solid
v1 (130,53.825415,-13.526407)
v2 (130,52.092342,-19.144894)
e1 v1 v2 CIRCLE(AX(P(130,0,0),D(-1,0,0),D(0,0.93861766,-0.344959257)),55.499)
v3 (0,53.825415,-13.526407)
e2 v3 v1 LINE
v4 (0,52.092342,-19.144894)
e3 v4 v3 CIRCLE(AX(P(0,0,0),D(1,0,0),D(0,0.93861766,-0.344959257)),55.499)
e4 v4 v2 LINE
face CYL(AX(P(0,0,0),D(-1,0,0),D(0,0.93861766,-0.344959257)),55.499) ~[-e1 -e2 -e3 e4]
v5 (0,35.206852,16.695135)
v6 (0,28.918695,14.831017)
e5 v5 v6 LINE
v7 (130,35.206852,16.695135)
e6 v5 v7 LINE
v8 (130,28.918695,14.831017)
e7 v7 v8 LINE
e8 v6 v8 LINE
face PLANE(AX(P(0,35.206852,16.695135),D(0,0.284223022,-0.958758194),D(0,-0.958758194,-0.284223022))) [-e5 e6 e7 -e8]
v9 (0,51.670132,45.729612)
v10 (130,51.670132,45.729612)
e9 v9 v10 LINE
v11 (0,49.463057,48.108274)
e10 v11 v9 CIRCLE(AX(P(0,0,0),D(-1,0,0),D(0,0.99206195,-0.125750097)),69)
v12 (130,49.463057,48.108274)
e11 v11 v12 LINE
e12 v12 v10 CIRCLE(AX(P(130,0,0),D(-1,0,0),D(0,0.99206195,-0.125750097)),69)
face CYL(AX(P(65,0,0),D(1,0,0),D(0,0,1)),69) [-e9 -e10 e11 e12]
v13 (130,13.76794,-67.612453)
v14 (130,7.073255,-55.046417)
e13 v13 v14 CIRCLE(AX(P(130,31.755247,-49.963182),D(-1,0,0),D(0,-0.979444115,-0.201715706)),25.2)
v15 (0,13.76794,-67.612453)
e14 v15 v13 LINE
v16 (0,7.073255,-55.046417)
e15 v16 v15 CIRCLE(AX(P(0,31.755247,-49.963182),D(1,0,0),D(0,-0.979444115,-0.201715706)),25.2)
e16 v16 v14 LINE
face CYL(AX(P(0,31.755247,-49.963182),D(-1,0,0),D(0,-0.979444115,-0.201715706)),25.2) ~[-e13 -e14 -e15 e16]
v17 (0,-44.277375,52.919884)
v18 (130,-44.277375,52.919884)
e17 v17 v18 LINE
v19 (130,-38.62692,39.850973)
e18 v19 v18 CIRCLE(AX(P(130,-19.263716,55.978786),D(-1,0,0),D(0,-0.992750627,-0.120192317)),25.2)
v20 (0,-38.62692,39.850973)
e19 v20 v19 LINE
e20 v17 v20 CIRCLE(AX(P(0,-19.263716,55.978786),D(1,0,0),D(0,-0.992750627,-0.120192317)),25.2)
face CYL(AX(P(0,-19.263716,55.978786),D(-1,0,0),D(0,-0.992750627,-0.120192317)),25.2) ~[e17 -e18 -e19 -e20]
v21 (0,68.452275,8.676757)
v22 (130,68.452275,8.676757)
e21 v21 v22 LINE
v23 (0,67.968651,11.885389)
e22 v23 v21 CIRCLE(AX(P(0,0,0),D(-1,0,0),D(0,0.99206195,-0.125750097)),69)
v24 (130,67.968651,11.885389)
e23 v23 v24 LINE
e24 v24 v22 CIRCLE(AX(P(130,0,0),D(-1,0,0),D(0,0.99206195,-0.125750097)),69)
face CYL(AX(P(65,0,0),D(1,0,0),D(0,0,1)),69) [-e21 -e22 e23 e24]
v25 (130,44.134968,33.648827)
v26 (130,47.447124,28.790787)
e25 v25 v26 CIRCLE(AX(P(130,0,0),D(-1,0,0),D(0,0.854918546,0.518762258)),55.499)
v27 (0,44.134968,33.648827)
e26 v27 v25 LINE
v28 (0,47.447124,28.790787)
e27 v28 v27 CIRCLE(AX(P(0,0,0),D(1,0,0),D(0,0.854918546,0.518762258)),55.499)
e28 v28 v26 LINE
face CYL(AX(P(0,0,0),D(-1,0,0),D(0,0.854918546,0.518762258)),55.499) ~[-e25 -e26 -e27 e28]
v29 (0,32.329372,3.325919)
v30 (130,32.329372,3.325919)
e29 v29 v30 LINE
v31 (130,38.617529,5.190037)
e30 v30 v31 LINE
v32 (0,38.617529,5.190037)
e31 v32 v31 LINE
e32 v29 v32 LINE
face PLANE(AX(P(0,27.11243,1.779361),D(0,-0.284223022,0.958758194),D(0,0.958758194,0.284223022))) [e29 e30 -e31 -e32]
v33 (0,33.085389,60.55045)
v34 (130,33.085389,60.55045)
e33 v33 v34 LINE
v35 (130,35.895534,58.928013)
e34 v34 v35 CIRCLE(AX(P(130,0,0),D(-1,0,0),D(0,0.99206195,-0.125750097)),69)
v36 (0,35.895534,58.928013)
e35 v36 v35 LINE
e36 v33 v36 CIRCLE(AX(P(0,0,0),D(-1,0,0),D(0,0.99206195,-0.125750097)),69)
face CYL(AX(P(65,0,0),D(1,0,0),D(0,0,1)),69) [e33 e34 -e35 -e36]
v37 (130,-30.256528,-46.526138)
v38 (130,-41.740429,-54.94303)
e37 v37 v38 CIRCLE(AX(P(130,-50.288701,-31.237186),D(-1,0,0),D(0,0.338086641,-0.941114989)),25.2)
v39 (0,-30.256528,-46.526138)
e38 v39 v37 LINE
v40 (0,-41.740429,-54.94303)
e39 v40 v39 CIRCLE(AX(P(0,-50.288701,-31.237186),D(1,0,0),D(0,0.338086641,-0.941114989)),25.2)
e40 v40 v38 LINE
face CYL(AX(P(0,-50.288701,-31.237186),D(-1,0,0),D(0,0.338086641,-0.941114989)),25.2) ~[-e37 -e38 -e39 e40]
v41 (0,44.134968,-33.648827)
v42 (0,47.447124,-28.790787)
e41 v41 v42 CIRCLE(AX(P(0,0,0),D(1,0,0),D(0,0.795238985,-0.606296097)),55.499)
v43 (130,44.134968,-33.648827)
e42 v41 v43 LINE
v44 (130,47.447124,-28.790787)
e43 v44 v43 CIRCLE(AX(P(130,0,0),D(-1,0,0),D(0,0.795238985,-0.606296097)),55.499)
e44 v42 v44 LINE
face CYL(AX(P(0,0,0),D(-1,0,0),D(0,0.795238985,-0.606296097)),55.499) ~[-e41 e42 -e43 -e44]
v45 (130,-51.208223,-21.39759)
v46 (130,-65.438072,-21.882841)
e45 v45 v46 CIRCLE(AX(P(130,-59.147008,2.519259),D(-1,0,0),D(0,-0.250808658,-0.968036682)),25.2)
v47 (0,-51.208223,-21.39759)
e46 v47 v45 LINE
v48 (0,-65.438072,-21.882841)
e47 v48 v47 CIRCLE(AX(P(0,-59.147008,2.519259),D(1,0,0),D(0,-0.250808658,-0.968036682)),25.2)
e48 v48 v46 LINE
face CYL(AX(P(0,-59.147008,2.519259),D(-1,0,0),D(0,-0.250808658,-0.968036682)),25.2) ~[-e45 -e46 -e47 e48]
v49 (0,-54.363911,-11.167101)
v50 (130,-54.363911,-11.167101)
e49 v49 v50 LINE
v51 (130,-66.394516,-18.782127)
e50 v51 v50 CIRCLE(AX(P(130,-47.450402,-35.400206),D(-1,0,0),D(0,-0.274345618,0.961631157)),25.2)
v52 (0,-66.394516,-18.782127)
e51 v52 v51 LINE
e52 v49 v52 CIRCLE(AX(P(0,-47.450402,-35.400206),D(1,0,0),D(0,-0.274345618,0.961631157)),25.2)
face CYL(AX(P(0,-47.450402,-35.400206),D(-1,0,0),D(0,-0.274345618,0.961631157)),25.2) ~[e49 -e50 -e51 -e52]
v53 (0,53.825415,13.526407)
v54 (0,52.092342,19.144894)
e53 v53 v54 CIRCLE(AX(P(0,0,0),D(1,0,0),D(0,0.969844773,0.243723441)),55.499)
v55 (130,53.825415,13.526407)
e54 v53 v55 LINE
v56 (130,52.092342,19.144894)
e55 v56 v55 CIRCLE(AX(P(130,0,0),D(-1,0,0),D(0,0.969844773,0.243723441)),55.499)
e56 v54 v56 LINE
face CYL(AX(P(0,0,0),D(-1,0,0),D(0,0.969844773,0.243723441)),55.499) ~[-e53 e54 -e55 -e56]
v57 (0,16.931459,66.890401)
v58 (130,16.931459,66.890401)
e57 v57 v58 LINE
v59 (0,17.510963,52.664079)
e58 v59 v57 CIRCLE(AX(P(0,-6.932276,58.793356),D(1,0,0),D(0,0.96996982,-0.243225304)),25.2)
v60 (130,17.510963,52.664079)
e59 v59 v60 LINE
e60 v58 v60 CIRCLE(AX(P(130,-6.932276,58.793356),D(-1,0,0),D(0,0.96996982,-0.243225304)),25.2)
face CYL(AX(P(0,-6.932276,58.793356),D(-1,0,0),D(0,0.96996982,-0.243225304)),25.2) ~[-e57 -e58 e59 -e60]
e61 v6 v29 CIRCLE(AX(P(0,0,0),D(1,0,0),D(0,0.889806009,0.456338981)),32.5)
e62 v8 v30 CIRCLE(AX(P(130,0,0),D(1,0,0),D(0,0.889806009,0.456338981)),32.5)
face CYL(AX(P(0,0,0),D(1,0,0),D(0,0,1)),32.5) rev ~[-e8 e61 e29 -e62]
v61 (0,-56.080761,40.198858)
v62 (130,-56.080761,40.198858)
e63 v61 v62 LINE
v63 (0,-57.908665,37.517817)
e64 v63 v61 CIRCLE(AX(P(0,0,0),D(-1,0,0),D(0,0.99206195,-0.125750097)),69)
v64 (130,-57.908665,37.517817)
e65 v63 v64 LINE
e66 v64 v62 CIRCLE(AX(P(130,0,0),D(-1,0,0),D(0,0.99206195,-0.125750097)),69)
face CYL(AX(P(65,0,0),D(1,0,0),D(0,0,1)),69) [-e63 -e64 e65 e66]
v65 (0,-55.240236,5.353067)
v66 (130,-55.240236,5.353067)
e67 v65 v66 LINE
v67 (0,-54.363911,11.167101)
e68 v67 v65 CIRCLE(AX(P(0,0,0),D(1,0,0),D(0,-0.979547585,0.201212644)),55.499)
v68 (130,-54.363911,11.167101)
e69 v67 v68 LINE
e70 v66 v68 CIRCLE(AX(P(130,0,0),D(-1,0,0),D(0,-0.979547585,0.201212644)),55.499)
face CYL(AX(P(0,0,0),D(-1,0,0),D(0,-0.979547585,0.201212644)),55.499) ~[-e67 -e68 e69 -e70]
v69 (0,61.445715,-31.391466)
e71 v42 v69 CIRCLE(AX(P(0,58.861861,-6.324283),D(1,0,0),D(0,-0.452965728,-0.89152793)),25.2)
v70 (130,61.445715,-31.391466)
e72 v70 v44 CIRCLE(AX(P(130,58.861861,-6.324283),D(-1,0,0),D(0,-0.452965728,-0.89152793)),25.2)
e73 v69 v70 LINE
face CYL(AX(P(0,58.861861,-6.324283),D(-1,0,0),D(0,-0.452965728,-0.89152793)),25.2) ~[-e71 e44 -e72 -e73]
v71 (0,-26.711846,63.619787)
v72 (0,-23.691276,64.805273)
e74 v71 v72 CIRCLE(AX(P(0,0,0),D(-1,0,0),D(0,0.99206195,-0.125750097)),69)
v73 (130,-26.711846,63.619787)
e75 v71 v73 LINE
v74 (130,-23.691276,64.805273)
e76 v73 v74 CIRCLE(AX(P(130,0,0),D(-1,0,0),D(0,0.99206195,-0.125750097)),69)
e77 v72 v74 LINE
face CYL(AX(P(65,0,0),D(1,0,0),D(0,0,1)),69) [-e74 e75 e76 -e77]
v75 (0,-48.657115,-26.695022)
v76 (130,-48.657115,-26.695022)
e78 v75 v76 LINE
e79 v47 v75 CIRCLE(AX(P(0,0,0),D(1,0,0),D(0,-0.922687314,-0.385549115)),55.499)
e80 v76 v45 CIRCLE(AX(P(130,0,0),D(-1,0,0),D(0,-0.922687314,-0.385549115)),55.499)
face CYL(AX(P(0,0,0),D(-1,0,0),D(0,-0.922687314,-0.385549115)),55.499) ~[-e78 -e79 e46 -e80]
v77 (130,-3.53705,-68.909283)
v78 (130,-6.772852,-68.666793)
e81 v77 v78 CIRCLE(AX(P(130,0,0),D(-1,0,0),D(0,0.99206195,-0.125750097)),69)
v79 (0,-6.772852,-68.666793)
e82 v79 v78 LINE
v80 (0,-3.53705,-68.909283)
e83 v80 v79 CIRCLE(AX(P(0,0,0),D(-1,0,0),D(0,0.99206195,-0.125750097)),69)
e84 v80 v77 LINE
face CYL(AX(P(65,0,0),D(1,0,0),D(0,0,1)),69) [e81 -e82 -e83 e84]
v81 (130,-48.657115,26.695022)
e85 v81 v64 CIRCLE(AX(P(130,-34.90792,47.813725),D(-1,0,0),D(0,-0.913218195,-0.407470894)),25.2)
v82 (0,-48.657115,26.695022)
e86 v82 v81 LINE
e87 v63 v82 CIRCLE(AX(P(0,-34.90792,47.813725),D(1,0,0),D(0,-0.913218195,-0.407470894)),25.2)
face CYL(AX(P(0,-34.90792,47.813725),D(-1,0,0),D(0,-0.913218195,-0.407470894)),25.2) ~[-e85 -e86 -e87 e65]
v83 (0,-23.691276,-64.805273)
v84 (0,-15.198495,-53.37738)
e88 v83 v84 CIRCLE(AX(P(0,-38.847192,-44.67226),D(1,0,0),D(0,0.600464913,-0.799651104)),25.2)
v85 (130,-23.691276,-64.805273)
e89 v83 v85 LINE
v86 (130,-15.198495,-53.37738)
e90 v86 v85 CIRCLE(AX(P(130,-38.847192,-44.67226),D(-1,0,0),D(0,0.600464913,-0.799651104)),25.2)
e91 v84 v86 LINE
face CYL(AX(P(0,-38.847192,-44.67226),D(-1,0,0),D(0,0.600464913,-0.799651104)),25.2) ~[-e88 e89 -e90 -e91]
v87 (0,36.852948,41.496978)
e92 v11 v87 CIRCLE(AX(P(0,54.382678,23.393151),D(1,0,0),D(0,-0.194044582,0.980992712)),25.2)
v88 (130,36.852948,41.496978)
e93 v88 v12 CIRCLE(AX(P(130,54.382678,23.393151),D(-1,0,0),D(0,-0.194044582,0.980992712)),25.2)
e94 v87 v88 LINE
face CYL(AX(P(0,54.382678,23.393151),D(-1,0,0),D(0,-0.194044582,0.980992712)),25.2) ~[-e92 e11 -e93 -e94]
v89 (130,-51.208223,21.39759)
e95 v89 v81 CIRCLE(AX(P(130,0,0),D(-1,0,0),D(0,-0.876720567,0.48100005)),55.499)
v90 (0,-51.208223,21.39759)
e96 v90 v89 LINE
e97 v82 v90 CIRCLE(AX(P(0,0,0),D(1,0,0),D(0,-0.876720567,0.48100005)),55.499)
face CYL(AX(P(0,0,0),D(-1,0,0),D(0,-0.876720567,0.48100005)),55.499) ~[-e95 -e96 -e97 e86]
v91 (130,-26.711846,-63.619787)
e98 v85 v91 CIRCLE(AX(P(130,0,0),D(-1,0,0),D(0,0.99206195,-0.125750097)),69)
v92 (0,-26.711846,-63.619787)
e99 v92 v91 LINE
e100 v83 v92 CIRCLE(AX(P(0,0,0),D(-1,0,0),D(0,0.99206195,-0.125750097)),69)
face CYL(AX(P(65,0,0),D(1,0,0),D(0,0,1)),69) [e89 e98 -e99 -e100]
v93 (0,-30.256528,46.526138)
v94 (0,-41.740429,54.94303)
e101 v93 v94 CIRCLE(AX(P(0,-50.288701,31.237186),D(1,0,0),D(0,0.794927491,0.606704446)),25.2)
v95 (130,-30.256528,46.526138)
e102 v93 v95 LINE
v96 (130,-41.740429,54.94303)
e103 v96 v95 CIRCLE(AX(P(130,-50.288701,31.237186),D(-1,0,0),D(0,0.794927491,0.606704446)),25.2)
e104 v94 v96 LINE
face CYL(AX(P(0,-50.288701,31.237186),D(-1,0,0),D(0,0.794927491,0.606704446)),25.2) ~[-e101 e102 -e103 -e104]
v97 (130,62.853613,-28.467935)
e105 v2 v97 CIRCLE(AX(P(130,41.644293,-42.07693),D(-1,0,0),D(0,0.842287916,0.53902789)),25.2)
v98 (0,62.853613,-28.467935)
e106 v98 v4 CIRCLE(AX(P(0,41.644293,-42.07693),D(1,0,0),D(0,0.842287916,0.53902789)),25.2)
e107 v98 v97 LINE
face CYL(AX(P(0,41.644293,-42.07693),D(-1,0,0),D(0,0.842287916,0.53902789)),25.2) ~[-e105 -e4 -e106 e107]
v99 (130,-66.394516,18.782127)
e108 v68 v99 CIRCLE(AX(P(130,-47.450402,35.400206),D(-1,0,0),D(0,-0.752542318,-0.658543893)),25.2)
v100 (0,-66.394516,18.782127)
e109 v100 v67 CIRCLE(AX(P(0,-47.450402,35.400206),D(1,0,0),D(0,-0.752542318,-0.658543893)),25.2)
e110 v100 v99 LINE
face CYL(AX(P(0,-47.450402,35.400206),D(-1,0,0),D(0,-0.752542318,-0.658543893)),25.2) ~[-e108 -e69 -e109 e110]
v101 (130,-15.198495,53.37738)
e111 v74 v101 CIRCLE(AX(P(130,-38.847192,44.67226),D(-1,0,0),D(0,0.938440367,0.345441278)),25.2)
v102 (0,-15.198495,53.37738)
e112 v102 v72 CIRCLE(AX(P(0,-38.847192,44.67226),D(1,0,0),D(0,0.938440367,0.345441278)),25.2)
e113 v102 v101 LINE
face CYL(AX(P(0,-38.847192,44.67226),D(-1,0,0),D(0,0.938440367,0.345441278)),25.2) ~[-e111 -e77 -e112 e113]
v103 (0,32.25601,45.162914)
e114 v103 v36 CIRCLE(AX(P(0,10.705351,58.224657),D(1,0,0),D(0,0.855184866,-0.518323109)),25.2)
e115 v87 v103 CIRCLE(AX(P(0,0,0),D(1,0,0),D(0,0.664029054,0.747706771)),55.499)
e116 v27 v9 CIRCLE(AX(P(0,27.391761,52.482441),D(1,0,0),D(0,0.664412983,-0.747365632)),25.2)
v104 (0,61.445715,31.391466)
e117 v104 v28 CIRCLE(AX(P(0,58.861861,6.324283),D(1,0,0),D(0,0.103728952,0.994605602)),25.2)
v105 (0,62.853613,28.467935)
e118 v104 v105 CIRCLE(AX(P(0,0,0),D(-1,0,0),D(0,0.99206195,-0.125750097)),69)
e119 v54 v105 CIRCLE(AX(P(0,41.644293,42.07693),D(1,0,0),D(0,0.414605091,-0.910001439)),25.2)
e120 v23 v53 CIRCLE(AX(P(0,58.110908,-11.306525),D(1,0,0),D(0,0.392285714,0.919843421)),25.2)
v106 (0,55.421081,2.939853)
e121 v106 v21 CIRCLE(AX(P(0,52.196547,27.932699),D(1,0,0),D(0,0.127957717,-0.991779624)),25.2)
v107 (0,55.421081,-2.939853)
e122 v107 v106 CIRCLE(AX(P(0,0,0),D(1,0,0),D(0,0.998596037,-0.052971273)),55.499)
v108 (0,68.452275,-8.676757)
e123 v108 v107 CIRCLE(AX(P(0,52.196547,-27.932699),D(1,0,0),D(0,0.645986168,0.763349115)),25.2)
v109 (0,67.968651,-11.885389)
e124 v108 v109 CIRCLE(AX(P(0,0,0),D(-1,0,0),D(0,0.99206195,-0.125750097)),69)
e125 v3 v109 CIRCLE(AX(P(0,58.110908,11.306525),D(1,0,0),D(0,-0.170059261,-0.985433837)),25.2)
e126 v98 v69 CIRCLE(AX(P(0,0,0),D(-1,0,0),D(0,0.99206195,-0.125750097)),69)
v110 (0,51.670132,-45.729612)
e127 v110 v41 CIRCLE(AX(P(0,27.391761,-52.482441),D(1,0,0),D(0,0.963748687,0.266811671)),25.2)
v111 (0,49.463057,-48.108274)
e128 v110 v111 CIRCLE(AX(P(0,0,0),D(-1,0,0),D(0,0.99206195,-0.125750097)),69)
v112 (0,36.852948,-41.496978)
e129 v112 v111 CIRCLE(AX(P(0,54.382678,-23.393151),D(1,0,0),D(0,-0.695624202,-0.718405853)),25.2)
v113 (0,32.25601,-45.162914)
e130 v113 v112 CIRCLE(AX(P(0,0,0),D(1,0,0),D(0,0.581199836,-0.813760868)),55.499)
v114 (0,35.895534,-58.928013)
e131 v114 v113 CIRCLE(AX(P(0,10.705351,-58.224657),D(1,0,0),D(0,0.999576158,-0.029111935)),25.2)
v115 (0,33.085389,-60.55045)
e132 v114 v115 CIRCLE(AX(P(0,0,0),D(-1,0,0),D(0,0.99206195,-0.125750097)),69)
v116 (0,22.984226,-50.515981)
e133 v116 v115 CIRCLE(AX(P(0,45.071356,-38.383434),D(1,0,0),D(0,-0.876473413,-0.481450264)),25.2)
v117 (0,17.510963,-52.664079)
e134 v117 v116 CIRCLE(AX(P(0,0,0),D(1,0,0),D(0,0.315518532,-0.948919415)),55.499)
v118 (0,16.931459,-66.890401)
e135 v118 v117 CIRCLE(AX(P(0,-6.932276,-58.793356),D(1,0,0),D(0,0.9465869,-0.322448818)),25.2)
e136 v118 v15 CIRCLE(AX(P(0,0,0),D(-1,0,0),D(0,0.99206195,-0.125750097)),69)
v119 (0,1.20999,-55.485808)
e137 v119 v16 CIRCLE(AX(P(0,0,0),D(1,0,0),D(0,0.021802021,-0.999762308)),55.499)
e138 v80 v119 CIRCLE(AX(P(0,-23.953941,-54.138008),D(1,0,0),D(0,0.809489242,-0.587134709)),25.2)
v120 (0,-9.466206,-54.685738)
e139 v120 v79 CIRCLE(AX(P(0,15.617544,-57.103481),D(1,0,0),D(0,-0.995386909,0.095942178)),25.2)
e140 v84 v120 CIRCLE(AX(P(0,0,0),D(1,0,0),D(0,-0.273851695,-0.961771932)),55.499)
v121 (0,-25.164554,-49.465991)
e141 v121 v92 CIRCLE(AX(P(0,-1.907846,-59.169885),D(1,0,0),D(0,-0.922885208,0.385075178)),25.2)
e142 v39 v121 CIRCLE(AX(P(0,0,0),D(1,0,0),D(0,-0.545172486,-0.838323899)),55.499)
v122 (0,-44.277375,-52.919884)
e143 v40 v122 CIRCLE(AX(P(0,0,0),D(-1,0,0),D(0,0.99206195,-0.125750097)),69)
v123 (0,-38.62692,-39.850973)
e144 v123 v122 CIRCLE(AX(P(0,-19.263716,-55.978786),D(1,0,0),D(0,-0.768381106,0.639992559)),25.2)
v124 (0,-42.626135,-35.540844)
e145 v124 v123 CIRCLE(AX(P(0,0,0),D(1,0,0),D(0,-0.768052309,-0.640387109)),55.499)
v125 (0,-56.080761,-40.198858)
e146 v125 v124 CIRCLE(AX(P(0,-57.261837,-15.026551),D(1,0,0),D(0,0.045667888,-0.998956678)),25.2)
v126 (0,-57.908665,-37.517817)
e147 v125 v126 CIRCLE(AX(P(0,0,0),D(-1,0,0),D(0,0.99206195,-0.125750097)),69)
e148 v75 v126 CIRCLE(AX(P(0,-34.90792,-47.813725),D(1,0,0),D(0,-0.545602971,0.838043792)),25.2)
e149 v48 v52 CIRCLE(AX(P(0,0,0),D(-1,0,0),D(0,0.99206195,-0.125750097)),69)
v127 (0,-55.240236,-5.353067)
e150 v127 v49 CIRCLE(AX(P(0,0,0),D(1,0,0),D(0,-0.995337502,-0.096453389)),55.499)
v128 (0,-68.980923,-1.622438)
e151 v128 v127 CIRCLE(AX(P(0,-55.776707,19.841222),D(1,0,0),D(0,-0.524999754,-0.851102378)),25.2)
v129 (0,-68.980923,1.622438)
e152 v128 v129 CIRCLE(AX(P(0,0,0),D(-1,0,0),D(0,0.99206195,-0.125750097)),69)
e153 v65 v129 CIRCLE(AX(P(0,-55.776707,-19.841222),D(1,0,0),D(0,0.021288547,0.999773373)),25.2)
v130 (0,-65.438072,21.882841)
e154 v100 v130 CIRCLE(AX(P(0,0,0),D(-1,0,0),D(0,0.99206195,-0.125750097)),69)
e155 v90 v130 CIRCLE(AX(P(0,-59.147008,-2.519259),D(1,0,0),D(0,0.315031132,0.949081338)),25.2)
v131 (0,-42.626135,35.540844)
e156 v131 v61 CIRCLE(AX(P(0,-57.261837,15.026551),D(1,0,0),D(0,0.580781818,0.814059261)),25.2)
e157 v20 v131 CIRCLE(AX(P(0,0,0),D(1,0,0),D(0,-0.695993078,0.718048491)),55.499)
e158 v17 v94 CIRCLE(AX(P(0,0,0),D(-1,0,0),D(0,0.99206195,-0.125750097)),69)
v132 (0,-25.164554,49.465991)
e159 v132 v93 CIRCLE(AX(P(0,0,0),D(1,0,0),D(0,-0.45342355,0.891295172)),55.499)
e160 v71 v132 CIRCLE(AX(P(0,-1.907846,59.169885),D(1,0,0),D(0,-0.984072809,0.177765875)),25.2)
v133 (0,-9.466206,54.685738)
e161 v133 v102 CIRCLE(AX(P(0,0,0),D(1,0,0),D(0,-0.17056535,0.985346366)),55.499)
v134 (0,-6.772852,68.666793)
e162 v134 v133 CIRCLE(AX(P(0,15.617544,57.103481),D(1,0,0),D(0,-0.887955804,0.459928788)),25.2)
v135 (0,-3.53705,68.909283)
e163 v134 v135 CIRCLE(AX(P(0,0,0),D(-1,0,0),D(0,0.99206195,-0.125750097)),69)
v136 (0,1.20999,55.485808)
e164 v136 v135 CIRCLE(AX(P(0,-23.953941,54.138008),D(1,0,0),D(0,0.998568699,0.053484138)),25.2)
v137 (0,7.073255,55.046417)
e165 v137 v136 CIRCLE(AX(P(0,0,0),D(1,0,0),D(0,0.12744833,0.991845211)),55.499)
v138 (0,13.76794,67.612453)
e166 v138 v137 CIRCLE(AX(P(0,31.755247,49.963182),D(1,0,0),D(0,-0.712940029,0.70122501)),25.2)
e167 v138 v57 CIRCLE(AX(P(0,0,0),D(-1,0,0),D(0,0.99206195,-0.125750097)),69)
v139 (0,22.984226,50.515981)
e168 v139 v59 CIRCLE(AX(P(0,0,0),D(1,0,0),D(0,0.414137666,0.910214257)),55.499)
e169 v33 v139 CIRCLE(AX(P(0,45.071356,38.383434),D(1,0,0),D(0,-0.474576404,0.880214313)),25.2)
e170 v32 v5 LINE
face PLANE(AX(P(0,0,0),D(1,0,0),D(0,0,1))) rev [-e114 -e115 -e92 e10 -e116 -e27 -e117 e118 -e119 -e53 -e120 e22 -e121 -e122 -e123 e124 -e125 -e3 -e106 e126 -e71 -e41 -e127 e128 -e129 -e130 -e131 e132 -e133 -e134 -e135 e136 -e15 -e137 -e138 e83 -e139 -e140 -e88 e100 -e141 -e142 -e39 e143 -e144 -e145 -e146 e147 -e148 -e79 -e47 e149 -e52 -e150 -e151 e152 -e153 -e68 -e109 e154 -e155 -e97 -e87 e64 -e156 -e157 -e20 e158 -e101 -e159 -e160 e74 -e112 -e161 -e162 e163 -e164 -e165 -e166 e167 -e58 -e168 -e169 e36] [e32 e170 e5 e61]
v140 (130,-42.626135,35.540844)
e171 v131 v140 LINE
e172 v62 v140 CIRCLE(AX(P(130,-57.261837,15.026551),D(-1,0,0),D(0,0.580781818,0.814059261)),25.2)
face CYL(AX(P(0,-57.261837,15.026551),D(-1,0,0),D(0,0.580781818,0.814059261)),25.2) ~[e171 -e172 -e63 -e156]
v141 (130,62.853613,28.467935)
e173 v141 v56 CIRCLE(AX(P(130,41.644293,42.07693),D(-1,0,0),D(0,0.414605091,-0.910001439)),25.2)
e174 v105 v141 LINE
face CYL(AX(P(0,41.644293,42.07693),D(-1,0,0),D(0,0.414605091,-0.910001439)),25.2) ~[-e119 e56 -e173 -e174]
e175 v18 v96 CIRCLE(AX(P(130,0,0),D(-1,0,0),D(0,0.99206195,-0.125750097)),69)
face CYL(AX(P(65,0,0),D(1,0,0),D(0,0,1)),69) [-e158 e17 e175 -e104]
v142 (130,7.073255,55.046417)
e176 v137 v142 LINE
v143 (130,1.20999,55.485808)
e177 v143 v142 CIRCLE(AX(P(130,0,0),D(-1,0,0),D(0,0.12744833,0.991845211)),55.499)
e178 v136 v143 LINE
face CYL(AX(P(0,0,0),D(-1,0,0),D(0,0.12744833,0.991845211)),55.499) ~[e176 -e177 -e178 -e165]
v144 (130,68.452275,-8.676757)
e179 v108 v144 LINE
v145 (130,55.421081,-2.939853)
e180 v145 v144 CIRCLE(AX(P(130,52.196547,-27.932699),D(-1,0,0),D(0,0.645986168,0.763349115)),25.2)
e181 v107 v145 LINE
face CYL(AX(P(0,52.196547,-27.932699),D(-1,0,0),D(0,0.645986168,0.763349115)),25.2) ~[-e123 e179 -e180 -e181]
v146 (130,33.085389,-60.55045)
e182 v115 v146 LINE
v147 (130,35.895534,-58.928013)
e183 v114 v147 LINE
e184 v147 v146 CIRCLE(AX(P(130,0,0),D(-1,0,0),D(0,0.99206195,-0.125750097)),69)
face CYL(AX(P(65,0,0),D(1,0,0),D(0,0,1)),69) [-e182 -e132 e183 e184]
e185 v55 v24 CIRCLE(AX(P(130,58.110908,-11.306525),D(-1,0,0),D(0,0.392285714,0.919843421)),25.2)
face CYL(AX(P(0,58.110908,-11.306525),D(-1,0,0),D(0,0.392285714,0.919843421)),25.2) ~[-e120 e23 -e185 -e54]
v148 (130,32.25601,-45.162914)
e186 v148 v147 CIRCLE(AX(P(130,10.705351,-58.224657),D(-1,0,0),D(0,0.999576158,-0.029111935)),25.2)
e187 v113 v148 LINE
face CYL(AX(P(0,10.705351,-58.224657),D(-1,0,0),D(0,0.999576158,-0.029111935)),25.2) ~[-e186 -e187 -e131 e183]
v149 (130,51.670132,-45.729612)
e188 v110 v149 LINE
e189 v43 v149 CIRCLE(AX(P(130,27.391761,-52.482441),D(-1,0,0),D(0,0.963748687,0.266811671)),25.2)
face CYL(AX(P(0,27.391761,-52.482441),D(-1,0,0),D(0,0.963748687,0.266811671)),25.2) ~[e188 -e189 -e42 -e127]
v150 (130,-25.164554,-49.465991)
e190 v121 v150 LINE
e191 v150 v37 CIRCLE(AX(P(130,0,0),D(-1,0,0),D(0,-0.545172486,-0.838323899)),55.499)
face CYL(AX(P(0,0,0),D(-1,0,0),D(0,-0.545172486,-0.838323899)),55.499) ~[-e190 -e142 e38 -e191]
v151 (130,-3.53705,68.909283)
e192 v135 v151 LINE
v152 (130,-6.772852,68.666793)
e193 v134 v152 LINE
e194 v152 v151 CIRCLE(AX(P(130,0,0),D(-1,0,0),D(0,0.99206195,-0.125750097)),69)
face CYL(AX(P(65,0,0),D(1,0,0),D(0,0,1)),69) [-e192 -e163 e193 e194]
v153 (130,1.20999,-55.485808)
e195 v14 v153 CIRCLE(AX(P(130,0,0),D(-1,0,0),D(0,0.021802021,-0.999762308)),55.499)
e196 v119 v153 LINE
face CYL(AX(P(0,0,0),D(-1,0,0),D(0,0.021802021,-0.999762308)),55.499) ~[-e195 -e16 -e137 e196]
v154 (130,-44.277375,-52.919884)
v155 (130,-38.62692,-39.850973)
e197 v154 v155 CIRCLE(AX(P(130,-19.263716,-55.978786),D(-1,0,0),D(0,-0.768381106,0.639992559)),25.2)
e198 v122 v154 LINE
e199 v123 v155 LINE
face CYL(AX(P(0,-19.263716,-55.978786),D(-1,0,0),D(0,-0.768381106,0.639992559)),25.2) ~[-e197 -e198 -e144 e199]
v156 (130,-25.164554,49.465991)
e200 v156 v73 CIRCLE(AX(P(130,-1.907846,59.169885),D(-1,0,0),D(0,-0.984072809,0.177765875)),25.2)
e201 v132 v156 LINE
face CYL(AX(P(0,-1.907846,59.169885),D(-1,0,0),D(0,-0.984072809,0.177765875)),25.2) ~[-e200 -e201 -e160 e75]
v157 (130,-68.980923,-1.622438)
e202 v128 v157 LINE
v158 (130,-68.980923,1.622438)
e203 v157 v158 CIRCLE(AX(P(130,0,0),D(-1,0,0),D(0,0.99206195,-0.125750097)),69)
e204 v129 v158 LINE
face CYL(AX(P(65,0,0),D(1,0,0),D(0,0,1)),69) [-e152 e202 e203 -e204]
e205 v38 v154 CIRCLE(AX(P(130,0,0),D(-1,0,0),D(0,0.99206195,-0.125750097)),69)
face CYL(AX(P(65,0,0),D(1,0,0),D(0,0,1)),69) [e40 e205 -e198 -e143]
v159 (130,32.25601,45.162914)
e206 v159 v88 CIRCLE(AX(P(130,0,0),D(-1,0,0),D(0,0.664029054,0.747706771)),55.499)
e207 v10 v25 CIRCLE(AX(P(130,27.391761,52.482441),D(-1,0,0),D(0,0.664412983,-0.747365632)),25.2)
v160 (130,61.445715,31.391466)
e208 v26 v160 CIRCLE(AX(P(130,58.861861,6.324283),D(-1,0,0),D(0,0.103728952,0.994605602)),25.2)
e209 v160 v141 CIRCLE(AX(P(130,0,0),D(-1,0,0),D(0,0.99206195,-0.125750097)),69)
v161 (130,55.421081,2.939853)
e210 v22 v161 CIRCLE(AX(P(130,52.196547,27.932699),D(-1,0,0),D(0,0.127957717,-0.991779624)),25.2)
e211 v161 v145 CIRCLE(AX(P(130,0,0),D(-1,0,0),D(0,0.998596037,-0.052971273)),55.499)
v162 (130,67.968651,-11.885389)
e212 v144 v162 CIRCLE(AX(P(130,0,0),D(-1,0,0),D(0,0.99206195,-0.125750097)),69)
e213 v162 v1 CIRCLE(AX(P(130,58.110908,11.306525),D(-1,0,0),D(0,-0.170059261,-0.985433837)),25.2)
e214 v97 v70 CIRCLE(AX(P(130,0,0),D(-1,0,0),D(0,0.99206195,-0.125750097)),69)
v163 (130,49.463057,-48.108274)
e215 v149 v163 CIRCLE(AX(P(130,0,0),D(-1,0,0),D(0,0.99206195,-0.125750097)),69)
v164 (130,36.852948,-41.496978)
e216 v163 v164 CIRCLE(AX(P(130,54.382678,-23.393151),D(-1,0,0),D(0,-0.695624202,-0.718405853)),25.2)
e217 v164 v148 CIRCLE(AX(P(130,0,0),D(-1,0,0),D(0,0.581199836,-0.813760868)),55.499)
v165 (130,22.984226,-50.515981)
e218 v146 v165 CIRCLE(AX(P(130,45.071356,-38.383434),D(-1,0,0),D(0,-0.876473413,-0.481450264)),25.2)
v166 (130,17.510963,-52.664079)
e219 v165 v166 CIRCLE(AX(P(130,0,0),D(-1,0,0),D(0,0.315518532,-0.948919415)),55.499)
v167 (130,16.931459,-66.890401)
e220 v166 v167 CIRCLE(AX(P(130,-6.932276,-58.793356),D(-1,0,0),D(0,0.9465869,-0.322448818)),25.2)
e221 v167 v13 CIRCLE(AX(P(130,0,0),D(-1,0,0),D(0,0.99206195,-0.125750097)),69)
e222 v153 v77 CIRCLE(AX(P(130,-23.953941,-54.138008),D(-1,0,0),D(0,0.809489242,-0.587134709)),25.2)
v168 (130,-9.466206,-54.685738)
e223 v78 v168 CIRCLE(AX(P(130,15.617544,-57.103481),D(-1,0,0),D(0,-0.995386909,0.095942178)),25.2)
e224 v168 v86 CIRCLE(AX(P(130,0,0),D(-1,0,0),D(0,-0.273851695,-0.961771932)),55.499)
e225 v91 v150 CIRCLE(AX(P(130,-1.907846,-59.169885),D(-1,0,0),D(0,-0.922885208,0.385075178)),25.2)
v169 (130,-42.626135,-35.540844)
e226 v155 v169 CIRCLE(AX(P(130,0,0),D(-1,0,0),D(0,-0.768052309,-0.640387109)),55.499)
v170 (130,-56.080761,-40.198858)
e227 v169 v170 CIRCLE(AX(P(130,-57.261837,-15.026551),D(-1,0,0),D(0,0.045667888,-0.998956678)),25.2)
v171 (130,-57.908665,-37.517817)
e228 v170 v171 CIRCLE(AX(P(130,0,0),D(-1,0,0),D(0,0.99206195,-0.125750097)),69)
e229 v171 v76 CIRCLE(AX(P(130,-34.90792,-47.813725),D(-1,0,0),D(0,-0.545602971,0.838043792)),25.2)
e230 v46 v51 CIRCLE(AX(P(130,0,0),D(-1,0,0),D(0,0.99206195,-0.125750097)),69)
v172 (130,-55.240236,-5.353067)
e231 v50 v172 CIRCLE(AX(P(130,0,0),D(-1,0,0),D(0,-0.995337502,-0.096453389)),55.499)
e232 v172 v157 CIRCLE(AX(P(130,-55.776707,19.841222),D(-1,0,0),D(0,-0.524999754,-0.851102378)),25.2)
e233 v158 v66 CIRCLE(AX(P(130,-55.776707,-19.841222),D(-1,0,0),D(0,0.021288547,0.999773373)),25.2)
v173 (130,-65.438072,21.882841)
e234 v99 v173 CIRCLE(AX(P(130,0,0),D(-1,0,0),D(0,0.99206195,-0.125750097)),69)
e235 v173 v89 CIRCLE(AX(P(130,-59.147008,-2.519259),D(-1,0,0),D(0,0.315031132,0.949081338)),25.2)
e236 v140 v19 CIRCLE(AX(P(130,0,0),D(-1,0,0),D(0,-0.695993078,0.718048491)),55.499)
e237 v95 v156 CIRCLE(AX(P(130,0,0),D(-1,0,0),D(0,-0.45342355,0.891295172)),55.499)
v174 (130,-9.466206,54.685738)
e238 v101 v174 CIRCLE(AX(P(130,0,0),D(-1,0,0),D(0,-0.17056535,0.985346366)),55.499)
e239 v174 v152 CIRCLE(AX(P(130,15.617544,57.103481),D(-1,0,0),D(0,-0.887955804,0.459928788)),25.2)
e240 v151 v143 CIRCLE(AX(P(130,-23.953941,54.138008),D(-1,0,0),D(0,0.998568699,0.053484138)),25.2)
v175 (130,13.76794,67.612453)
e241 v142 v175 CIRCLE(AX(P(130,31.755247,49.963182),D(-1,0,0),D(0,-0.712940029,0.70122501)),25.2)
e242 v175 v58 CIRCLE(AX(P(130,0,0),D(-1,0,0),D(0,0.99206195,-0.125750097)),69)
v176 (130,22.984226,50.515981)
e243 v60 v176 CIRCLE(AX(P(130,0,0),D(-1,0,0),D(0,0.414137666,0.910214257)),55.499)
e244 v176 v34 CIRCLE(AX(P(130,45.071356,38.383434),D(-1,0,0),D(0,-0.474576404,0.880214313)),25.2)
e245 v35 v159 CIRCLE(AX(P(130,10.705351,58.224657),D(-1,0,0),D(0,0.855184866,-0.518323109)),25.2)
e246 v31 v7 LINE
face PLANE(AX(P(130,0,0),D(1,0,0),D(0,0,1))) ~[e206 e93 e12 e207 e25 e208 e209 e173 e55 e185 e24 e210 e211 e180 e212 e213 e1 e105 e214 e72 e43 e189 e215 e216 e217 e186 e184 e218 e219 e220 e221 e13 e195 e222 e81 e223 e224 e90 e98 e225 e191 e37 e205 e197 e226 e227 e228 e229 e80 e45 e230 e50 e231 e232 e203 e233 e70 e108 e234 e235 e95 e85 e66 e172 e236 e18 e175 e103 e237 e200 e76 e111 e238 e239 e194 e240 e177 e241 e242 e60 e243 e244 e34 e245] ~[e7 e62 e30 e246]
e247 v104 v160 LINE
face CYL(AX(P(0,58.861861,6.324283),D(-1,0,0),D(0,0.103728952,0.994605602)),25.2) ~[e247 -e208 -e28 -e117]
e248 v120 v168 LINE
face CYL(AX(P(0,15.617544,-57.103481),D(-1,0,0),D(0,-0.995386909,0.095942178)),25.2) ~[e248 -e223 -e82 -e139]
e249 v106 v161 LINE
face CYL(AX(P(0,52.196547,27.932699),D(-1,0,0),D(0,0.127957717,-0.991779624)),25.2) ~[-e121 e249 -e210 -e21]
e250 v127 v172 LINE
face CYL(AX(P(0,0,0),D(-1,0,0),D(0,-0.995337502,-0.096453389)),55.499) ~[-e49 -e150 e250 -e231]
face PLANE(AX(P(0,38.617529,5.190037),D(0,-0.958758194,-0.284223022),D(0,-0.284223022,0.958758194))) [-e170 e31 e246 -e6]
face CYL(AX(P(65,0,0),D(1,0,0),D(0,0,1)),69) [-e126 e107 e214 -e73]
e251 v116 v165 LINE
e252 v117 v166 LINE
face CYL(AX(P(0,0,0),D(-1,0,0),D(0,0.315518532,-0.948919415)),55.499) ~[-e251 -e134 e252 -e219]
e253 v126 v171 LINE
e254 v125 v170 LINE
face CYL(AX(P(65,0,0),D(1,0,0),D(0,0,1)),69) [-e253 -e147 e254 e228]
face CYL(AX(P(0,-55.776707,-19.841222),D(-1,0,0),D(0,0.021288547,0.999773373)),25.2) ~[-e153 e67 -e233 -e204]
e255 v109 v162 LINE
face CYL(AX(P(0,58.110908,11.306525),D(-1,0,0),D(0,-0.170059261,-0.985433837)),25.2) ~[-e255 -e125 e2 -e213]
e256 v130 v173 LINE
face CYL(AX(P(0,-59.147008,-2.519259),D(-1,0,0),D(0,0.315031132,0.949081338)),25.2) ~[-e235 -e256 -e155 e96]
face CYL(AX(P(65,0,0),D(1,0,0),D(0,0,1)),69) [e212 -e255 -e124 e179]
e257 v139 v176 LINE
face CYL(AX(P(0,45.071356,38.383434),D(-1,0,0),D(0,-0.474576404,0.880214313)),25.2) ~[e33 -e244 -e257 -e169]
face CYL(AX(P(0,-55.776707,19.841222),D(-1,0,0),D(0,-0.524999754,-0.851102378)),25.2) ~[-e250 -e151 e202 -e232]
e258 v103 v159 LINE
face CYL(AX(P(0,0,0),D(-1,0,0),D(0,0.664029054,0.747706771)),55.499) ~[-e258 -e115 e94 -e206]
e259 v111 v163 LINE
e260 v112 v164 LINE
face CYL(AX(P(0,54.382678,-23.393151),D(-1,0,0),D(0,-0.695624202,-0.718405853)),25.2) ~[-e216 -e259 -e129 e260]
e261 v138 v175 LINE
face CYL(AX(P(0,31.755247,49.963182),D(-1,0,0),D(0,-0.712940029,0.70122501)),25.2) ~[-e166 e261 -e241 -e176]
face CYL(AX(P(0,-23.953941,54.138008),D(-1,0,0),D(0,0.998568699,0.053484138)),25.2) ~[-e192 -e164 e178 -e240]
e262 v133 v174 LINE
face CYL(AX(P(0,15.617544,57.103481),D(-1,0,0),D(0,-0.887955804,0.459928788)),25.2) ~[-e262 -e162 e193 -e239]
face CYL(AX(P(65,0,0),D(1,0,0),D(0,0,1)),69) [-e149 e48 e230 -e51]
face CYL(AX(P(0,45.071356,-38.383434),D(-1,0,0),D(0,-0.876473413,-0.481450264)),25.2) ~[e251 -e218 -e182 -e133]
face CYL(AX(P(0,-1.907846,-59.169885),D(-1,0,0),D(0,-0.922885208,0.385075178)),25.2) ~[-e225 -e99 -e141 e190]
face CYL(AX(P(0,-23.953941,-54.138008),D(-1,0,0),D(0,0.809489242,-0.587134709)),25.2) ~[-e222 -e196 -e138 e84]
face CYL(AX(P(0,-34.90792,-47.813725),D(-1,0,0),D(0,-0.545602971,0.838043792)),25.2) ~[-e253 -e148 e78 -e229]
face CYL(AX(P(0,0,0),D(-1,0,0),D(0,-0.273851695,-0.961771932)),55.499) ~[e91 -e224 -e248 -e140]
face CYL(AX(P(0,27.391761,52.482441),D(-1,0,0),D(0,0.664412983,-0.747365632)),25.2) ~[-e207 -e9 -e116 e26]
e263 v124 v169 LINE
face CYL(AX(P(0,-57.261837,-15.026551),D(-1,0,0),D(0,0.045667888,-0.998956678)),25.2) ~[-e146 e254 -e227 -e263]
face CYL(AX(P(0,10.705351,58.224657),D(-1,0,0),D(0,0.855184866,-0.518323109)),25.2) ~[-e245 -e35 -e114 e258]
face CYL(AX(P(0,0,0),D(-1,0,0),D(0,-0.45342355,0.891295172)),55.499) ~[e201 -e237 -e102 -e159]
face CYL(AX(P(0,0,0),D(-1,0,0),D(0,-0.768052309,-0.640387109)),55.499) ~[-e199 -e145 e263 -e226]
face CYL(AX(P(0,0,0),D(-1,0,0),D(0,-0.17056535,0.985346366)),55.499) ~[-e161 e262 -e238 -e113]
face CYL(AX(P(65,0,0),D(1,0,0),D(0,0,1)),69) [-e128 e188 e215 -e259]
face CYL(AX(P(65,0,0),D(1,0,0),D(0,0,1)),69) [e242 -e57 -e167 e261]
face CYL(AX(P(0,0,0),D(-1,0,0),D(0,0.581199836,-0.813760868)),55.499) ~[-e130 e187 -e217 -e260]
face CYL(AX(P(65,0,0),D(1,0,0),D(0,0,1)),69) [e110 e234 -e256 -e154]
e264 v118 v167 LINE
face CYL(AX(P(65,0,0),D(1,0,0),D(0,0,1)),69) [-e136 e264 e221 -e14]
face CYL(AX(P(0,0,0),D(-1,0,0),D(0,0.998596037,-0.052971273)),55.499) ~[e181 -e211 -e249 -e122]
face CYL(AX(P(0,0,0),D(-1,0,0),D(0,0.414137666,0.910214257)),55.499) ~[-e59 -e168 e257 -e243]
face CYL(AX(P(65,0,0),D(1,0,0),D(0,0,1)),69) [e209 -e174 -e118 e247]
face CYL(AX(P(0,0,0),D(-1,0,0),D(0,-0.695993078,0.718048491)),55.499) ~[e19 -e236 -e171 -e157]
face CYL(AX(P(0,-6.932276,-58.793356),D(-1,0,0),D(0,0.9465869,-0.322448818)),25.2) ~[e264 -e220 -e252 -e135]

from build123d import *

# Parameters (mm, degrees)
BASPROSKE_W        = 130
BASPROSKE_H        = 69
TOOTHCUT_DEPTH     = 163.548454314
TEETHCUTS_COUNT    = 21
TEETHCUTS_ANGLE    = 342.857142857
BORSKE_R           = 32.5
BORE_DEPTH         = 130.0000508
CUT_EXTRUDE1_DEPTH = 163.509966704


with BuildPart() as part:
    # BasProSke → Base-Revolve (revolve)
    with BuildSketch(Plane(origin=(0, 0, 0), x_dir=(1, 0, 0), z_dir=(0, 1, 0)), mode=Mode.PRIVATE) as base_revolve_sk:
        with Locations((65, 34.5)):
            Rectangle(BASPROSKE_W, BASPROSKE_H)
    revolve(base_revolve_sk.sketch.rotate(Axis((-10, 0, 0), (1, 0, 0)), 180), axis=Axis((-10, 0, 0), (1, 0, 0)))

    # TooCutSke → ToothCut (cut, through all)
    with BuildSketch(Plane(origin=(0, 0, 0), x_dir=(0, 0, -1), z_dir=(1, 0, 0))):
        with BuildLine():
            ThreePointArc((2.93985266, 55.421081434), (0, 55.499), (-2.93985266, 55.421081434))
            ThreePointArc((-2.93985266, 55.421081434), (-4.874938915, 62.364127365), (-8.696301499, 68.475398395))
            ThreePointArc((-8.696301499, 68.475398395), (0, 69.0254), (8.696301499, 68.475398395))
            ThreePointArc((8.696301499, 68.475398395), (4.874938915, 62.364127365), (2.93985266, 55.421081434))
        make_face()
    toothcut = extrude(amount=TOOTHCUT_DEPTH, mode=Mode.SUBTRACT)

    # TeethCuts: ToothCut ×21 about axis
    teethcuts_axis = Axis((-10, 0, 0), (1, 0, 0))
    for i in range(1, TEETHCUTS_COUNT):
        add(toothcut.rotate(teethcuts_axis, i * TEETHCUTS_ANGLE / (TEETHCUTS_COUNT - 1)), mode=Mode.SUBTRACT)

    # BorSke → Bore (cut, symmetric)
    with BuildSketch(Plane(origin=(0, 0, 0), x_dir=(0, 0, -1), z_dir=(1, 0, 0))):
        with Locations(Location((0, 0, 0), (0, 0, 180))):
            Circle(BORSKE_R)
    extrude(amount=BORE_DEPTH, both=True, mode=Mode.SUBTRACT)

    # Sketch1 → Cut-Extrude1 (cut, through all)
    with BuildSketch(Plane.ZY):
        Polygon((16.6951355, 35.206852325), (13.284459239, 23.701754001), (1.779360915, 27.112430262), (5.190037177, 38.617528586), align=None)
    extrude(amount=-CUT_EXTRUDE1_DEPTH, mode=Mode.SUBTRACT)


solid = part.part
